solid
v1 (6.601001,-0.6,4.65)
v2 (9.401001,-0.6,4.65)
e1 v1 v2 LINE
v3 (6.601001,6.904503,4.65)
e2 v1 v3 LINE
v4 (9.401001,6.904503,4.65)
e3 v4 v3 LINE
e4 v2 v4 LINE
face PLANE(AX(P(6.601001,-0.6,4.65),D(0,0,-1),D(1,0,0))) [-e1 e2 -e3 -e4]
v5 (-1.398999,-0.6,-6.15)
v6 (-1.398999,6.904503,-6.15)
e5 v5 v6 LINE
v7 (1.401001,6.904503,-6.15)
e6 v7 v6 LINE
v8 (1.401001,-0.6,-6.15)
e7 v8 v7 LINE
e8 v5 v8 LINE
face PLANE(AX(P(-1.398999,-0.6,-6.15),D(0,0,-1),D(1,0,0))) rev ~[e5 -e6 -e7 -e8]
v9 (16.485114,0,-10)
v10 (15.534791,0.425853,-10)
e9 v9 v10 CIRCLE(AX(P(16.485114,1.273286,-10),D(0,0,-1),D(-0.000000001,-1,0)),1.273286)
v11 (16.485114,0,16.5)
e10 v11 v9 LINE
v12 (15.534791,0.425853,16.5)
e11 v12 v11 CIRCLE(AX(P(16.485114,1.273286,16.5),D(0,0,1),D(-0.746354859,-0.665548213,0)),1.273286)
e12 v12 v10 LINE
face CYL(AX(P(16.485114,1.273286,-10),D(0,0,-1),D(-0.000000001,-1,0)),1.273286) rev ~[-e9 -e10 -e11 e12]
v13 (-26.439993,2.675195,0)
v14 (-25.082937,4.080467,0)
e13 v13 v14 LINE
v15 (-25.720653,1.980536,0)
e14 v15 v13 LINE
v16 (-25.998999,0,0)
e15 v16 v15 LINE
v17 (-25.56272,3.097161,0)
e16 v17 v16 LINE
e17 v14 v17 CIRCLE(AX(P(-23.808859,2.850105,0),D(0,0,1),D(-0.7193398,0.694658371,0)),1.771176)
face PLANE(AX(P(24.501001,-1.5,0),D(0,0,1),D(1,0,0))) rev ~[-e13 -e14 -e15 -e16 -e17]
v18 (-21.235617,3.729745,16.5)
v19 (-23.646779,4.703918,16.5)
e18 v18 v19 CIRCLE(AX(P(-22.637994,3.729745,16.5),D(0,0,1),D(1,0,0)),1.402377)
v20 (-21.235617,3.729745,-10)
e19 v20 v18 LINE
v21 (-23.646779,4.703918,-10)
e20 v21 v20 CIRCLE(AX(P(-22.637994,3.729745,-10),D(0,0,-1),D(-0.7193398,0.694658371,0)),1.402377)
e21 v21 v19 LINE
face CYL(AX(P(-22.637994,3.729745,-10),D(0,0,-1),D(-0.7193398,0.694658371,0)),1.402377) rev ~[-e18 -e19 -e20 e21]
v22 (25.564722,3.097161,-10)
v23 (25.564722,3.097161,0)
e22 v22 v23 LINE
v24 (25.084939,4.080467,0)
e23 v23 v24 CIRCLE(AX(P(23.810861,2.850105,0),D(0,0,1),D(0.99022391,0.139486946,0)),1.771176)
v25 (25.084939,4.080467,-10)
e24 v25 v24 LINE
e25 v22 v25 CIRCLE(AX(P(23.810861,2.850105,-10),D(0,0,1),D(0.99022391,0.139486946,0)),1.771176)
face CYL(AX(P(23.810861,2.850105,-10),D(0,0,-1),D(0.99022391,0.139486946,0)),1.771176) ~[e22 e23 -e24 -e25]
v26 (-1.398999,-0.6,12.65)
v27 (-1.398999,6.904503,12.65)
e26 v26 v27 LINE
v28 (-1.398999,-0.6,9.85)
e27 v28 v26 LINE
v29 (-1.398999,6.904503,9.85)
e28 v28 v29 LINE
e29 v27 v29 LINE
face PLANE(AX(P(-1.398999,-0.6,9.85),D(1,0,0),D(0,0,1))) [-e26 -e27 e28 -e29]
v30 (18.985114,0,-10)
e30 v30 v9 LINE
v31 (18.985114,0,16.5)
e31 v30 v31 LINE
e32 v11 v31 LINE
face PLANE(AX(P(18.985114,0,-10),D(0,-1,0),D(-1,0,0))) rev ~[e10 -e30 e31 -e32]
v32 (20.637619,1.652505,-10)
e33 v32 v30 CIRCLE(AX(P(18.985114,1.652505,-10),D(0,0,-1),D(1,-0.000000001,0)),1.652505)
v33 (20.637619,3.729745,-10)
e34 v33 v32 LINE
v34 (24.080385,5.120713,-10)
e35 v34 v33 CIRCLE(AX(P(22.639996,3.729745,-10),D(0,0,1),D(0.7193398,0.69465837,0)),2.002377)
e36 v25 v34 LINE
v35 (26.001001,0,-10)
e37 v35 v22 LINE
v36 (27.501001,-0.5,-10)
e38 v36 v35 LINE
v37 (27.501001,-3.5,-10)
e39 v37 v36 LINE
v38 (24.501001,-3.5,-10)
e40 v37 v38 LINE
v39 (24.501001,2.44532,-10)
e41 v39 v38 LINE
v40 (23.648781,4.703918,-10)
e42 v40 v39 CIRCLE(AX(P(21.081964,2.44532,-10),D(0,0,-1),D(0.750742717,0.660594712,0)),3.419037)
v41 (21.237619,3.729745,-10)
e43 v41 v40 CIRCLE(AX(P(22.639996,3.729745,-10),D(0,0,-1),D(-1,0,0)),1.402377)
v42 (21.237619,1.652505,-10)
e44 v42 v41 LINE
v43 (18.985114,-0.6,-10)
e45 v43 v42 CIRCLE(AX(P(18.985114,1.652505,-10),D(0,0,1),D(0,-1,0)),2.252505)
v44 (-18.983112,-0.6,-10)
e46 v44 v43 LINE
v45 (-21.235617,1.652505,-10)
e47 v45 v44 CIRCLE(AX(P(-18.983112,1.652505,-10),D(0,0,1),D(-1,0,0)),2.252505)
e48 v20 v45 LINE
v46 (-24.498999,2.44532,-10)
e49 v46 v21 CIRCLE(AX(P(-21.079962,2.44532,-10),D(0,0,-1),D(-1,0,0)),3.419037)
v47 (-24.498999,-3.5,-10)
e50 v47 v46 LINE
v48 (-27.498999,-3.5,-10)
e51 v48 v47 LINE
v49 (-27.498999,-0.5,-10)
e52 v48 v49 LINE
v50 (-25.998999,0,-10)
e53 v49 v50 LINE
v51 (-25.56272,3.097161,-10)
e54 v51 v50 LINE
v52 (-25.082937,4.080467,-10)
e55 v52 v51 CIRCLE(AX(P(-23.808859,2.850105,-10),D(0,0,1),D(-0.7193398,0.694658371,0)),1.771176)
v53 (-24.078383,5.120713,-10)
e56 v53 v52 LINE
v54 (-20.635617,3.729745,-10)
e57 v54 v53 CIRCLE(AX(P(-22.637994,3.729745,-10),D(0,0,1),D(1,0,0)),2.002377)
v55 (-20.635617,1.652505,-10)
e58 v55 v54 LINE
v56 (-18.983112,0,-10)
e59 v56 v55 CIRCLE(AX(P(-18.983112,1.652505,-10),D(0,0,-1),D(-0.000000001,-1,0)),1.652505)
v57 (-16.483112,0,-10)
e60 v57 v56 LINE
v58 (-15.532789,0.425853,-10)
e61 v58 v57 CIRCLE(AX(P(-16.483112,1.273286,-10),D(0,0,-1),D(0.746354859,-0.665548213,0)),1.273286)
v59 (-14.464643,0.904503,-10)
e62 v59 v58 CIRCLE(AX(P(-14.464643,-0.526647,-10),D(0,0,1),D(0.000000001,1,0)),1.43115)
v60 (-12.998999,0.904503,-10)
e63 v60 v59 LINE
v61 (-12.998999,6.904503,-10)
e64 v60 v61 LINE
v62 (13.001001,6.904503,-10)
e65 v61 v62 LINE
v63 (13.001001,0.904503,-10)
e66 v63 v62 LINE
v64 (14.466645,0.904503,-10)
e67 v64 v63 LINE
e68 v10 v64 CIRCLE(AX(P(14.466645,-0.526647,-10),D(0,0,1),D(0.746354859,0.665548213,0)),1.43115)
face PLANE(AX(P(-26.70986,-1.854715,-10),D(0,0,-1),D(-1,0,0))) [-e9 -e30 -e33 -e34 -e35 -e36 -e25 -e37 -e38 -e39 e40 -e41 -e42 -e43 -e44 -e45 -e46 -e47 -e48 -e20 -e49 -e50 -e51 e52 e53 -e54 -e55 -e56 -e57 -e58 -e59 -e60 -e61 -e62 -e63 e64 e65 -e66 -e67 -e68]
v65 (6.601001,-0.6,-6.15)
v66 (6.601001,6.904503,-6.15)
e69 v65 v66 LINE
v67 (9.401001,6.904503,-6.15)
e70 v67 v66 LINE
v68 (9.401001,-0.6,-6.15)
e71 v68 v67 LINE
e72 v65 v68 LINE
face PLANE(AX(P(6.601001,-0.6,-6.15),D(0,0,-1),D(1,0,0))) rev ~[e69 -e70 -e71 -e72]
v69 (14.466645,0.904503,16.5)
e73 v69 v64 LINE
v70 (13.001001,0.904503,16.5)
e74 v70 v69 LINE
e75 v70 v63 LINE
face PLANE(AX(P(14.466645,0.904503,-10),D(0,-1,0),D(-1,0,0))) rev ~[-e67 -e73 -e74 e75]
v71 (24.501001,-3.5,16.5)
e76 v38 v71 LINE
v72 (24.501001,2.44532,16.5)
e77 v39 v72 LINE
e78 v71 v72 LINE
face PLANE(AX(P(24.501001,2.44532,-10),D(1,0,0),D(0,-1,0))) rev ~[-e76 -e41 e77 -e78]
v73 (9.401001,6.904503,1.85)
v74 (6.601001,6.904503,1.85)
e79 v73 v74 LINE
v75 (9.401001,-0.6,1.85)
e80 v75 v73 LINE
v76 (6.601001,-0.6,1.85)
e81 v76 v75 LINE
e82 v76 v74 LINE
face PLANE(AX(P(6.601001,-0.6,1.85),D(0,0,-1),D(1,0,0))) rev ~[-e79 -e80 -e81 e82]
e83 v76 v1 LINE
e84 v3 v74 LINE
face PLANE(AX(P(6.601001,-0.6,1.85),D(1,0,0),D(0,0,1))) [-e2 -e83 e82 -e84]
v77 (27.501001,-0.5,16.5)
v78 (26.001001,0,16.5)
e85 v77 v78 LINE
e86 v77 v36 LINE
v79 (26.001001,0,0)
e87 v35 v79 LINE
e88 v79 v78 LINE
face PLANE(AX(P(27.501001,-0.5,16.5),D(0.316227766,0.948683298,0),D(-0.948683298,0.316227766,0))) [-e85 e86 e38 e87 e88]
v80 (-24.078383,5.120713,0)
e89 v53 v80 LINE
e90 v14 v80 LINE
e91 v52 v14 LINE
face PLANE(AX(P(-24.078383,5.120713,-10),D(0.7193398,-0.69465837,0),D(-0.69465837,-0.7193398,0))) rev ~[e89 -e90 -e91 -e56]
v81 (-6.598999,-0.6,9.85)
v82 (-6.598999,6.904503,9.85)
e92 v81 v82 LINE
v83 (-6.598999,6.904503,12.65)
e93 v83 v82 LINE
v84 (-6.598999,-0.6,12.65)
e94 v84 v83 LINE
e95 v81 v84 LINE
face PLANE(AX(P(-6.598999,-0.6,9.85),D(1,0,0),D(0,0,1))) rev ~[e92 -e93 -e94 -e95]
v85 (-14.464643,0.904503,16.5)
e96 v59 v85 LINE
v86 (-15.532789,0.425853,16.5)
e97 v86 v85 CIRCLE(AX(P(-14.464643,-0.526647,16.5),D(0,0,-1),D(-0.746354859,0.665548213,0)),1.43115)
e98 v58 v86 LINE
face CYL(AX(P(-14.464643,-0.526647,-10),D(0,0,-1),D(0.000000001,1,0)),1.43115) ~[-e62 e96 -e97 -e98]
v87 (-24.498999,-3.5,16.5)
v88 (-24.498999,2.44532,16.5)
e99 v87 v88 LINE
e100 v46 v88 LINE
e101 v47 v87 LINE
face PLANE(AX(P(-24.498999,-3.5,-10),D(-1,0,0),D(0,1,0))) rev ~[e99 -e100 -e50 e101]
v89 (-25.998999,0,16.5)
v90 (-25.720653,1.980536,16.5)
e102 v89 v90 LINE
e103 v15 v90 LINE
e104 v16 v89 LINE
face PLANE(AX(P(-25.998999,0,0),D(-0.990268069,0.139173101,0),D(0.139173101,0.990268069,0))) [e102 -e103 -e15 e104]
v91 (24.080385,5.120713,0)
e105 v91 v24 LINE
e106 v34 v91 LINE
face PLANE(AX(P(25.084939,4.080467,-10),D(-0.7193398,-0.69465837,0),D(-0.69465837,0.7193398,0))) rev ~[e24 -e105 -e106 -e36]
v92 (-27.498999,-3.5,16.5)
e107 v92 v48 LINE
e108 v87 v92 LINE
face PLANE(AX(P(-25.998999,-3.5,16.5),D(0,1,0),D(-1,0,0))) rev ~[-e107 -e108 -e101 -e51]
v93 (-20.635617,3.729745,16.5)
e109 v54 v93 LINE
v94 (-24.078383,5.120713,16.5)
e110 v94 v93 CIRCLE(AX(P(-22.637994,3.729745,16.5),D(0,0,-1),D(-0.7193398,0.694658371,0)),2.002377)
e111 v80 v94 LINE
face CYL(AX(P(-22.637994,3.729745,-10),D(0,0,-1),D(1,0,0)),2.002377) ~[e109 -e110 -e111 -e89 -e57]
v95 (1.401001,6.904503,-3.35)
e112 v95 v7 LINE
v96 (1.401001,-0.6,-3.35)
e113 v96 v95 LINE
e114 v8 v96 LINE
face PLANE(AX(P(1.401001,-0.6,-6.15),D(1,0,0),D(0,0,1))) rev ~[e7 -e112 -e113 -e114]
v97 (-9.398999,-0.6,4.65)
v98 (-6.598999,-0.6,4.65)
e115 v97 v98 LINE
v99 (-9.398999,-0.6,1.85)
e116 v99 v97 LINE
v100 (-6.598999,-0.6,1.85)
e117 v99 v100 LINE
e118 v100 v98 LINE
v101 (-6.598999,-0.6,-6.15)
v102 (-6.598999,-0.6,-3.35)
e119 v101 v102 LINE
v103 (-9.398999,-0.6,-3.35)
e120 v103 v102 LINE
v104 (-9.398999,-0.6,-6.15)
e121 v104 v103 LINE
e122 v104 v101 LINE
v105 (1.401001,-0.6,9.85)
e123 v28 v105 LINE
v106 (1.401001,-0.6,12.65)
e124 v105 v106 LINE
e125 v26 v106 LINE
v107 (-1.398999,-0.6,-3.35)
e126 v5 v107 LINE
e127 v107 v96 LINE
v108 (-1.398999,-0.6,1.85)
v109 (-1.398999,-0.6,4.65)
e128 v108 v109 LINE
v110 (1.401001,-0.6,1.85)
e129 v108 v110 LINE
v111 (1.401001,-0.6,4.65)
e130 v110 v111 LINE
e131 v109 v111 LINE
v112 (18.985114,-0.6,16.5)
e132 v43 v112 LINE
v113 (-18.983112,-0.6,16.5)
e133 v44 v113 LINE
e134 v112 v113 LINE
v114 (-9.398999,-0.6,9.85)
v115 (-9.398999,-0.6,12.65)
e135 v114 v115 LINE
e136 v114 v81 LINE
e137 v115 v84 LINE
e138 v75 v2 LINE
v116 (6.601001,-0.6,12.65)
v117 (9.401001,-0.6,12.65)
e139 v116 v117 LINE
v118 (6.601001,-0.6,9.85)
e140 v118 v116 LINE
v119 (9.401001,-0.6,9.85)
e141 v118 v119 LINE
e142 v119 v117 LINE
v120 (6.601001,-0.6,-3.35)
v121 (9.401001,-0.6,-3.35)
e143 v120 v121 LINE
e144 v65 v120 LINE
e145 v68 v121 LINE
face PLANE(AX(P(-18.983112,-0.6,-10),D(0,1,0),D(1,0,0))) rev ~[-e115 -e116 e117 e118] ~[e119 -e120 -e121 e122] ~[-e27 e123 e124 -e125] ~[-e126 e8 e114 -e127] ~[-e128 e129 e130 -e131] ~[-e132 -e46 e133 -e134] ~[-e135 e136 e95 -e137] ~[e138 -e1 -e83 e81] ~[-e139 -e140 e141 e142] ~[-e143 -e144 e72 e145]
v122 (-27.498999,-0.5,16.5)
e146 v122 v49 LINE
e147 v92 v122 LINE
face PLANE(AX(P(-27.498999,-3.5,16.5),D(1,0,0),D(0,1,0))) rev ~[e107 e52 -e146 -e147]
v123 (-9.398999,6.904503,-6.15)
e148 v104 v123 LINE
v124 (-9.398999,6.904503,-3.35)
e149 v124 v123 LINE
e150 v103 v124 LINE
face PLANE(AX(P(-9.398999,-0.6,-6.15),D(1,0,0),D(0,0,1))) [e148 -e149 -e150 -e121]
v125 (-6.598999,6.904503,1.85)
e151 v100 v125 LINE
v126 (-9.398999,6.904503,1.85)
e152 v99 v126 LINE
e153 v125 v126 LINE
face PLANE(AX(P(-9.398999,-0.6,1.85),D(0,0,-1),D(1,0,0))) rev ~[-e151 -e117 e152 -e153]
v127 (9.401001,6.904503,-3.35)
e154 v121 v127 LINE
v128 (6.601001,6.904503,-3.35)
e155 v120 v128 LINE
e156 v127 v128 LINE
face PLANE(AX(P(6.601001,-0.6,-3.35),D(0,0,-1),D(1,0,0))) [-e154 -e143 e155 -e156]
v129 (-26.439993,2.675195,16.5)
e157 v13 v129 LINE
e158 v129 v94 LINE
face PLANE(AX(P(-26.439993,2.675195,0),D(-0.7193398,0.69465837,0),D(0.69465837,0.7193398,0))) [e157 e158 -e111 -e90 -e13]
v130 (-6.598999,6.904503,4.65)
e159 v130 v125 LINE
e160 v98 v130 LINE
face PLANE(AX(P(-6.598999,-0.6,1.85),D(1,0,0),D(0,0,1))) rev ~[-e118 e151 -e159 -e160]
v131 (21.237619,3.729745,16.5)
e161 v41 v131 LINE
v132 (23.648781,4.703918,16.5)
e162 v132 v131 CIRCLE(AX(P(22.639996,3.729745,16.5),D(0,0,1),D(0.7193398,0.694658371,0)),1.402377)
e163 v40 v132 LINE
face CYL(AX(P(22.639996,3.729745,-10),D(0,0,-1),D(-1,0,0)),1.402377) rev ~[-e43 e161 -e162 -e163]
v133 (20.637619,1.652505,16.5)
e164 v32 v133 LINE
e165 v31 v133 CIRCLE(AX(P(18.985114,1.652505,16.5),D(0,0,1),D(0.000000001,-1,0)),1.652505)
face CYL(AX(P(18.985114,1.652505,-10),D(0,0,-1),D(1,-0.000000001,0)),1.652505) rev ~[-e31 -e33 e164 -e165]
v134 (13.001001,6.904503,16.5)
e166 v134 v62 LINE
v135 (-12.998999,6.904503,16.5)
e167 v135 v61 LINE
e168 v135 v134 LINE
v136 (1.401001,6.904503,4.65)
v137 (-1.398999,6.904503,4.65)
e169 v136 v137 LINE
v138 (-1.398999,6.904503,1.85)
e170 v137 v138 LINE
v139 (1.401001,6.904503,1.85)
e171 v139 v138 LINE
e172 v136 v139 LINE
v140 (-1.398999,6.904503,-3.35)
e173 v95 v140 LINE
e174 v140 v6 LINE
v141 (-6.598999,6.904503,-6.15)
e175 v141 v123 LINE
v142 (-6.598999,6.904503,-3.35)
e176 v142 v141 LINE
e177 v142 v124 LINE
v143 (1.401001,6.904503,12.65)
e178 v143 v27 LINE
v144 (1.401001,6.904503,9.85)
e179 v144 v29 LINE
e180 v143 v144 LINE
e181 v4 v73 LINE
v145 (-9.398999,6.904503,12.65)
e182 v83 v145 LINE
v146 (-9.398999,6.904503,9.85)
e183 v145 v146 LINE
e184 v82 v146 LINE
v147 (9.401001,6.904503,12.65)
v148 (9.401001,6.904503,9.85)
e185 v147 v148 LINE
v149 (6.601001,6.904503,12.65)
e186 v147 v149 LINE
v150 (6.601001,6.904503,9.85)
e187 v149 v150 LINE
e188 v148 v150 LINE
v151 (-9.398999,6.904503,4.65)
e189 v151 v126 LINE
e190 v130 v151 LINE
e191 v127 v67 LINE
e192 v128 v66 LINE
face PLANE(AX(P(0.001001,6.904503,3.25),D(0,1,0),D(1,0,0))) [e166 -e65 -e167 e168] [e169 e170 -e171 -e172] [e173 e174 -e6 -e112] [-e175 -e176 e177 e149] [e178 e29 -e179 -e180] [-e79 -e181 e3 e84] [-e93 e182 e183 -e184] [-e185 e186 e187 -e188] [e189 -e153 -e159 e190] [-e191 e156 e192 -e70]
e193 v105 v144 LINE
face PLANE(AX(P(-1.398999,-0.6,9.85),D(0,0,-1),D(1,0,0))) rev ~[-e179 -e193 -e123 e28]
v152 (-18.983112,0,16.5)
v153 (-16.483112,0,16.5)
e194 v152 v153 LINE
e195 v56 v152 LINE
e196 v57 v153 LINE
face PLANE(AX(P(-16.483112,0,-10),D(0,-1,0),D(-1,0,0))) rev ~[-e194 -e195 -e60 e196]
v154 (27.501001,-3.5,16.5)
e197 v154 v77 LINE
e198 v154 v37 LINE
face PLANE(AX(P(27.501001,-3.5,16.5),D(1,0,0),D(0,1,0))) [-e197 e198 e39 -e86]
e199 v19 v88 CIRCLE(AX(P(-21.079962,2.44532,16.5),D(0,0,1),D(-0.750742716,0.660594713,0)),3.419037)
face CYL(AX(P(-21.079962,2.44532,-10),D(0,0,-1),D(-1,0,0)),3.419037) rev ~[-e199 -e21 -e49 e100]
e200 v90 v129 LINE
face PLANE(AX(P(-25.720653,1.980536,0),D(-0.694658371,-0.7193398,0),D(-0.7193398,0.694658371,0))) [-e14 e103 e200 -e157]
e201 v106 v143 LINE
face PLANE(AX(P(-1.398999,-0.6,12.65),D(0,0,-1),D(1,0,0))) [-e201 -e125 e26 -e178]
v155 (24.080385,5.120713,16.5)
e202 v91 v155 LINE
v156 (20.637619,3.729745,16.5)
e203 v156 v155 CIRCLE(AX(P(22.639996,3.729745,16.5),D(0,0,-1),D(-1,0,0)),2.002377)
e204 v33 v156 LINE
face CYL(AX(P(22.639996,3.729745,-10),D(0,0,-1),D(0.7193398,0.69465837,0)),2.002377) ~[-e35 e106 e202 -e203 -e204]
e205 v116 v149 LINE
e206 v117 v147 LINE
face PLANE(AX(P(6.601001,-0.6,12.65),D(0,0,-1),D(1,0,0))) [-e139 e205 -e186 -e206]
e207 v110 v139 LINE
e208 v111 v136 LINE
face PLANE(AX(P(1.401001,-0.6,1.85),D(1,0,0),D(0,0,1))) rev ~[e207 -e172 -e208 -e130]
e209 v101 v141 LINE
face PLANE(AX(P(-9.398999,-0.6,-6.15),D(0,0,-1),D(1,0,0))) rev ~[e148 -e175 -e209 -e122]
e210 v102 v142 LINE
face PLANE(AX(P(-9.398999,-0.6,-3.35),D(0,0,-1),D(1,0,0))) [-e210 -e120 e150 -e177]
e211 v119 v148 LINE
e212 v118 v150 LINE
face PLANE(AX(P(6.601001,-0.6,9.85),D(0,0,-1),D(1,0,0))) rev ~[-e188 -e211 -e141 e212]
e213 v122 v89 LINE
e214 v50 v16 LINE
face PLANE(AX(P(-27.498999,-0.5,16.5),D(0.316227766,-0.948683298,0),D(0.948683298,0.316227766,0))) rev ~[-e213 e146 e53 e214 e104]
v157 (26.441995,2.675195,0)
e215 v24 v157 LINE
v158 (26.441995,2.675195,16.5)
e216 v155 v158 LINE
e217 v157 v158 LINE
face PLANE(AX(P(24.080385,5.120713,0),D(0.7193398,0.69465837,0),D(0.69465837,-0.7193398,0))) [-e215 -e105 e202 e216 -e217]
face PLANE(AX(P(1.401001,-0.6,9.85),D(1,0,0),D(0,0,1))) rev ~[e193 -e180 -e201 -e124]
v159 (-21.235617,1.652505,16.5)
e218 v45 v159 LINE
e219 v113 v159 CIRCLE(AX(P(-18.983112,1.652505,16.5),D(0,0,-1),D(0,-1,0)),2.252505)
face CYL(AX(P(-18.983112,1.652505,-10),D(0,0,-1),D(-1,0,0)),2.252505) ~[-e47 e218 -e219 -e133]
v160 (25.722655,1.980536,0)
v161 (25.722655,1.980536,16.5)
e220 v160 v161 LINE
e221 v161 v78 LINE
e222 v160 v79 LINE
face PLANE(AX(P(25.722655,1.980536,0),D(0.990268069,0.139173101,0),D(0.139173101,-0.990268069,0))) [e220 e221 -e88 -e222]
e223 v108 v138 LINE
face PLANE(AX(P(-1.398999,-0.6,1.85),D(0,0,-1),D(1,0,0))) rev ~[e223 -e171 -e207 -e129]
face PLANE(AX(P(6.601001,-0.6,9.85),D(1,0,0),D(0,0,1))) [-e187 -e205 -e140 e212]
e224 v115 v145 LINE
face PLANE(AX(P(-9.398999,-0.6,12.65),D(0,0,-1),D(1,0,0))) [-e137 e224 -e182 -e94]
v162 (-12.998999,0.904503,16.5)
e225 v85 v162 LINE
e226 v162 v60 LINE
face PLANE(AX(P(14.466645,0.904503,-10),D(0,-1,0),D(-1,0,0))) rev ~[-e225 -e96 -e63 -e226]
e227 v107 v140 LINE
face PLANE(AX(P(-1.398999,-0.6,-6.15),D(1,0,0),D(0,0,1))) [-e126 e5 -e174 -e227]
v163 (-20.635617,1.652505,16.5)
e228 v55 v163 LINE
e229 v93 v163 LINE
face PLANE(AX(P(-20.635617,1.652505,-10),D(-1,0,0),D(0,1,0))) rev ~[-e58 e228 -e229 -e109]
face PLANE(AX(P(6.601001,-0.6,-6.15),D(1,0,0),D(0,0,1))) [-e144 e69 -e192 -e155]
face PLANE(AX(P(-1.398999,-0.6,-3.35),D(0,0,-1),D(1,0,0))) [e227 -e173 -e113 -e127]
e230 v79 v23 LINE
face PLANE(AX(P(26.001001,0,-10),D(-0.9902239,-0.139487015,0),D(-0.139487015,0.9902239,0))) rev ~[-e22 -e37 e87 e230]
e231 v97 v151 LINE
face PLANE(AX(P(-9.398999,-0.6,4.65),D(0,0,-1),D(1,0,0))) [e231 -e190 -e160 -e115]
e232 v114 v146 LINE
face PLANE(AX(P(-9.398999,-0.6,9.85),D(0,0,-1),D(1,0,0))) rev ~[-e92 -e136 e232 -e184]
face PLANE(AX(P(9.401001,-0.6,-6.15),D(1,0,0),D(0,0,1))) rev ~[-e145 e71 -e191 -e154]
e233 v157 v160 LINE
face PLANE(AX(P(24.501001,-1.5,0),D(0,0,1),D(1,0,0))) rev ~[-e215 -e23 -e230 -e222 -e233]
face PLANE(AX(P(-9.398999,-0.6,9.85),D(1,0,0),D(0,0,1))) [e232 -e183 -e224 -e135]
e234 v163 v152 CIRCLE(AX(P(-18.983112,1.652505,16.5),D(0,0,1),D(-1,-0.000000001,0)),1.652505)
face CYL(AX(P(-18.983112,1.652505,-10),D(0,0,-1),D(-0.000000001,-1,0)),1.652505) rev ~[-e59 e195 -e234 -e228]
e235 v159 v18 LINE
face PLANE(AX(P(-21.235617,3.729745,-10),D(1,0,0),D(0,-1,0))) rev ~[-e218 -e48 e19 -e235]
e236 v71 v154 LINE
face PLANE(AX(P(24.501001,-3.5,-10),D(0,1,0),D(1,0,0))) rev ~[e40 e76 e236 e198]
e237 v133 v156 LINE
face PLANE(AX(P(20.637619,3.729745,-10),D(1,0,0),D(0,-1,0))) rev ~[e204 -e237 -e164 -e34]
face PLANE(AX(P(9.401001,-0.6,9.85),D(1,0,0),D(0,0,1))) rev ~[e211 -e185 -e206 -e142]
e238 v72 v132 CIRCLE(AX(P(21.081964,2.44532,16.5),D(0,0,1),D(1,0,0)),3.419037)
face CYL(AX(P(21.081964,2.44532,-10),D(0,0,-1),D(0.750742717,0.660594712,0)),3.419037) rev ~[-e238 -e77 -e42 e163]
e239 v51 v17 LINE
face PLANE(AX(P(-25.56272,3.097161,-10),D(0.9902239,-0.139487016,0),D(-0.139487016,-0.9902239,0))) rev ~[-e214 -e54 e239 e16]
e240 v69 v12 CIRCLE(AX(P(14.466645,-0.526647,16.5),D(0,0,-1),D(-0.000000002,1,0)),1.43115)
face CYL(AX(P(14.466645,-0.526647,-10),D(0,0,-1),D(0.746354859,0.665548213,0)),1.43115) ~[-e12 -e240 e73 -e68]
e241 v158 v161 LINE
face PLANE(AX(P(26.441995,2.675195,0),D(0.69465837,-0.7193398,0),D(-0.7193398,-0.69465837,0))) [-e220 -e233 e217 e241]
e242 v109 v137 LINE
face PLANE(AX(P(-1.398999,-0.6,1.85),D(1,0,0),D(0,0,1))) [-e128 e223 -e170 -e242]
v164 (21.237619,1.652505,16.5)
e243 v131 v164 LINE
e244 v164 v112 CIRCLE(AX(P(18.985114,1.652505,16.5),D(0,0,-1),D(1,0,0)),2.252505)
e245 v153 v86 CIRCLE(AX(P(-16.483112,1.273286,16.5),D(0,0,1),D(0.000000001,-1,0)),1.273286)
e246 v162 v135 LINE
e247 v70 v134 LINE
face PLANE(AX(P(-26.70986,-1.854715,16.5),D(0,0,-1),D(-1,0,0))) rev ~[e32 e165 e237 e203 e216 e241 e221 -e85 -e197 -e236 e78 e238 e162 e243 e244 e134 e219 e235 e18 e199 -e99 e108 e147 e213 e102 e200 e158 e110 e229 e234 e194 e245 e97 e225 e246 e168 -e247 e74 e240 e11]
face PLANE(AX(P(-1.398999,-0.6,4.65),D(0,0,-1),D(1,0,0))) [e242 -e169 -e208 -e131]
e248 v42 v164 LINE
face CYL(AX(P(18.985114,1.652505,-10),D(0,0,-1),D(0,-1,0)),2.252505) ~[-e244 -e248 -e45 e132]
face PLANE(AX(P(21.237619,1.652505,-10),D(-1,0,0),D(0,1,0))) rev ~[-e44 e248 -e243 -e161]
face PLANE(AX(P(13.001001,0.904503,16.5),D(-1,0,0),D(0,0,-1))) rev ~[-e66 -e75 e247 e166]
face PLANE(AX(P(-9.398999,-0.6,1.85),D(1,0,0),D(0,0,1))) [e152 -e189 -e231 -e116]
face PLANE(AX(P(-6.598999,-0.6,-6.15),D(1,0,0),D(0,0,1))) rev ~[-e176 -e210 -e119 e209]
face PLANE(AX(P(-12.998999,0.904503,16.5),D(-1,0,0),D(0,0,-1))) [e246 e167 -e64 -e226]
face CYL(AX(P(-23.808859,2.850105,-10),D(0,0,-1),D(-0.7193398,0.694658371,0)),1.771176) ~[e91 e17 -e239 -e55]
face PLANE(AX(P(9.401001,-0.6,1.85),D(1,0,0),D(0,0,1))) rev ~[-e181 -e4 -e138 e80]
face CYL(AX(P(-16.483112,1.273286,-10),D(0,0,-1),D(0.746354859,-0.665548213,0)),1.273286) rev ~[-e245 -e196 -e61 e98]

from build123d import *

# Parameters (mm, degrees)
RESSALTO_EXTRUS_O1_DEPTH = 16.5
ESBO_O4_W                = 1.5
ESBO_O4_H                = 16.5
RESSALTO_EXTRUS_O2_DEPTH = 2
RESSALTO_EXTRUS_O3_START = -10
RESSALTO_EXTRUS_O3_DEPTH = 10
ESBO_O5_W                = 26
ESBO_O5_H                = 26.5
RESSALTO_EXTRUS_O4_DEPTH = 6
ESBO_O6_W                = 2.8
ESBO_O6_H                = 2.8
CORTE_EXTRUS_O1_DEPTH    = 33.058488003
RESSALTO_EXTRUS_O5_DEPTH = 26.5


with BuildPart() as part:
    # Esboço3 → Ressalto-extrusão1 (new body)
    with BuildSketch(Plane.XY):
        with BuildLine():
            Line((18.985114218, -0.6), (-18.983112061, -0.6))
            ThreePointArc((-18.983112061, -0.6), (-20.575873515, 0.059743396), (-21.235616911, 1.65250485))
            Line((-21.235616911, 1.65250485), (-21.235616911, 3.729745078))
            ThreePointArc((-21.235616911, 3.729745078), (-22.112654073, 5.030006142), (-23.646779042, 4.703917814))
            ThreePointArc((-23.646779042, 4.703917814), (-24.278856787, 3.652335225), (-24.498998922, 2.44532004))
            Line((-24.498998922, 2.44532004), (-24.498998922, -1.5))
            Line((-24.498998922, -1.5), (-25.998998922, -1.5))
            Line((-25.998998922, -1.5), (-25.998998922, 0))
            Line((-25.998998922, 0), (-25.72065272, 1.980536137))
            Line((-25.72065272, 1.980536137), (-26.43999252, 2.675194508))
            Line((-26.43999252, 2.675194508), (-24.078382922, 5.120712836))
            ThreePointArc((-24.078382922, 5.120712836), (-21.887890117, 5.586316455), (-20.635616911, 3.729745078))
            Line((-20.635616911, 3.729745078), (-20.635616911, 1.65250485))
            ThreePointArc((-20.635616911, 1.65250485), (-20.151609446, 0.484007465), (-18.983112061, 0))
            Line((-18.983112061, 0), (-16.483112061, 0))
            ThreePointArc((-16.483112061, 0), (-15.962423979, 0.111330278), (-15.532789063, 0.425852691))
            ThreePointArc((-15.532789063, 0.425852691), (-15.049887248, 0.77937015), (-14.464643335, 0.904503352))
            Line((-14.464643335, 0.904503352), (-7.266260975, 0.904503352))
            Line((-7.266260975, 0.904503352), (7.268263132, 0.904503352))
            Line((7.268263132, 0.904503352), (14.466645491, 0.904503352))
            ThreePointArc((14.466645491, 0.904503352), (15.051889405, 0.77937015), (15.53479122, 0.425852691))
            ThreePointArc((15.53479122, 0.425852691), (15.964426136, 0.111330278), (16.485114218, 0))
            Line((16.485114218, 0), (18.985114218, 0))
            ThreePointArc((18.985114218, 0), (20.153611603, 0.484007465), (20.637619068, 1.65250485))
            Line((20.637619068, 1.65250485), (20.637619068, 3.729745078))
            ThreePointArc((20.637619068, 3.729745078), (21.889892273, 5.586316455), (24.080385079, 5.120712836))
            Line((24.080385079, 5.120712836), (26.441994677, 2.675194508))
            Line((26.441994677, 2.675194508), (25.722654876, 1.980536137))
            Line((25.722654876, 1.980536137), (26.001001078, 0))
            Line((26.001001078, 0), (26.001001078, -1.5))
            Line((26.001001078, -1.5), (24.501001078, -1.5))
            Line((24.501001078, -1.5), (24.501001078, 2.44532004))
            ThreePointArc((24.501001078, 2.44532004), (24.280858943, 3.652335225), (23.648781199, 4.703917814))
            ThreePointArc((23.648781199, 4.703917814), (22.11465623, 5.030006142), (21.237619068, 3.729745078))
            Line((21.237619068, 3.729745078), (21.237619068, 1.65250485))
            ThreePointArc((21.237619068, 1.65250485), (20.577875672, 0.059743396), (18.985114218, -0.6))
        make_face()
    extrude(amount=RESSALTO_EXTRUS_O1_DEPTH)

    # Esboço4 → Ressalto-extrusão2 (add)
    with BuildSketch(Plane.XZ.offset(1.5)):
        with Locations((25.251001078, 8.25)):
            Rectangle(ESBO_O4_W, ESBO_O4_H)
        with Locations((-25.248998922, 8.25)):
            Rectangle(ESBO_O4_W, ESBO_O4_H)
    extrude(amount=RESSALTO_EXTRUS_O2_DEPTH)

    # Esboço2 → Ressalto-extrusão3 (add)
    with BuildSketch(Plane.XY.offset(RESSALTO_EXTRUS_O3_START)):
        with BuildLine():
            Line((14.466645491, 0.904503352), (-14.464643335, 0.904503352))
            ThreePointArc((-14.464643335, 0.904503352), (-15.049887248, 0.77937015), (-15.532789063, 0.425852691))
            ThreePointArc((-15.532789063, 0.425852691), (-15.962423979, 0.111330278), (-16.483112061, 0))
            Line((-16.483112061, 0), (-18.983112061, 0))
            ThreePointArc((-18.983112061, 0), (-20.151609446, 0.484007465), (-20.635616911, 1.65250485))
            Line((-20.635616911, 1.65250485), (-20.635616911, 3.729745078))
            ThreePointArc((-20.635616911, 3.729745078), (-21.887890117, 5.586316455), (-24.078382922, 5.120712836))
            Line((-24.078382922, 5.120712836), (-25.082936671, 4.080466977))
            ThreePointArc((-25.082936671, 4.080466977), (-25.400658676, 3.626789441), (-25.562720122, 3.09716064))
            Line((-25.562720122, 3.09716064), (-25.998998922, 0))
            Line((-25.998998922, 0), (-25.998998922, -3.5))
            Line((-25.998998922, -3.5), (-24.498998922, -3.5))
            Line((-24.498998922, -3.5), (-24.498998922, 2.44532004))
            ThreePointArc((-24.498998922, 2.44532004), (-24.278856787, 3.652335225), (-23.646779042, 4.703917814))
            ThreePointArc((-23.646779042, 4.703917814), (-22.112654073, 5.030006142), (-21.235616911, 3.729745078))
            Line((-21.235616911, 3.729745078), (-21.235616911, 1.65250485))
            ThreePointArc((-21.235616911, 1.65250485), (-20.575873515, 0.059743396), (-18.983112061, -0.6))
            Line((-18.983112061, -0.6), (18.985114218, -0.6))
            ThreePointArc((18.985114218, -0.6), (20.577875672, 0.059743396), (21.237619068, 1.65250485))
            Line((21.237619068, 1.65250485), (21.237619068, 3.729745078))
            ThreePointArc((21.237619068, 3.729745078), (22.11465623, 5.030006142), (23.648781199, 4.703917814))
            ThreePointArc((23.648781199, 4.703917814), (24.280858943, 3.652335225), (24.501001078, 2.44532004))
            Line((24.501001078, 2.44532004), (24.501001078, -3.5))
            Line((24.501001078, -3.5), (26.001001078, -3.5))
            Line((26.001001078, -3.5), (26.001001078, 0))
            Line((26.001001078, 0), (25.564722279, 3.09716064))
            ThreePointArc((25.564722279, 3.09716064), (25.402660833, 3.626789441), (25.084938828, 4.080466977))
            Line((25.084938828, 4.080466977), (24.080385079, 5.120712836))
            ThreePointArc((24.080385079, 5.120712836), (21.889892273, 5.586316455), (20.637619068, 3.729745078))
            Line((20.637619068, 3.729745078), (20.637619068, 1.65250485))
            ThreePointArc((20.637619068, 1.65250485), (20.153611603, 0.484007465), (18.985114218, 0))
            Line((18.985114218, 0), (16.485114218, 0))
            ThreePointArc((16.485114218, 0), (15.964426136, 0.111330278), (15.53479122, 0.425852691))
            ThreePointArc((15.53479122, 0.425852691), (15.051889405, 0.77937015), (14.466645491, 0.904503352))
        make_face()
    extrude(amount=RESSALTO_EXTRUS_O3_DEPTH)

    # Esboço5 → Ressalto-extrusão4 (add)
    with BuildSketch(Plane(origin=(0, 0.904503352, 0), x_dir=(1, 0, 0), z_dir=(0, 1, 0))):
        with Locations((0.001001078, -3.25)):
            Rectangle(ESBO_O5_W, ESBO_O5_H)
    extrude(amount=RESSALTO_EXTRUS_O4_DEPTH)

    # Esboço6 → Corte-extrusão1 (cut, through all)
    with BuildSketch(Plane.XZ.offset(0.6)):
        with Locations((0.001001078, 11.25)):
            Rectangle(ESBO_O6_W, ESBO_O6_H)
        with Locations((-7.998998922, 11.25)):
            Rectangle(ESBO_O6_W, ESBO_O6_H)
        with Locations((8.001001078, 11.25)):
            Rectangle(ESBO_O6_W, ESBO_O6_H)
        with Locations((0.001001078, 3.25)):
            Rectangle(ESBO_O6_W, ESBO_O6_H)
        with Locations((8.001001078, 3.25)):
            Rectangle(ESBO_O6_W, ESBO_O6_H)
        with Locations((0.001001078, -4.75)):
            Rectangle(ESBO_O6_W, ESBO_O6_H)
        with Locations((8.001001078, -4.75)):
            Rectangle(ESBO_O6_W, ESBO_O6_H)
        with Locations((-7.998998922, 3.25)):
            Rectangle(ESBO_O6_W, ESBO_O6_H)
        with Locations((-7.998998922, -4.75)):
            Rectangle(ESBO_O6_W, ESBO_O6_H)
    extrude(amount=-CORTE_EXTRUS_O1_DEPTH, mode=Mode.SUBTRACT)

    # Esboço8 → Ressalto-extrusão5 (add, through all)
    with BuildSketch(Plane.XY.offset(16.5)):
        Polygon((-25.998998922, -3.5), (-27.498998922, -3.5), (-27.498998922, -0.5), (-25.998998922, 0), align=None)
        Polygon((26.001001078, 0), (26.001001078, -3.5), (27.501001078, -3.5), (27.501001078, -0.5), align=None)
    extrude(amount=-RESSALTO_EXTRUS_O5_DEPTH)


solid = part.part
